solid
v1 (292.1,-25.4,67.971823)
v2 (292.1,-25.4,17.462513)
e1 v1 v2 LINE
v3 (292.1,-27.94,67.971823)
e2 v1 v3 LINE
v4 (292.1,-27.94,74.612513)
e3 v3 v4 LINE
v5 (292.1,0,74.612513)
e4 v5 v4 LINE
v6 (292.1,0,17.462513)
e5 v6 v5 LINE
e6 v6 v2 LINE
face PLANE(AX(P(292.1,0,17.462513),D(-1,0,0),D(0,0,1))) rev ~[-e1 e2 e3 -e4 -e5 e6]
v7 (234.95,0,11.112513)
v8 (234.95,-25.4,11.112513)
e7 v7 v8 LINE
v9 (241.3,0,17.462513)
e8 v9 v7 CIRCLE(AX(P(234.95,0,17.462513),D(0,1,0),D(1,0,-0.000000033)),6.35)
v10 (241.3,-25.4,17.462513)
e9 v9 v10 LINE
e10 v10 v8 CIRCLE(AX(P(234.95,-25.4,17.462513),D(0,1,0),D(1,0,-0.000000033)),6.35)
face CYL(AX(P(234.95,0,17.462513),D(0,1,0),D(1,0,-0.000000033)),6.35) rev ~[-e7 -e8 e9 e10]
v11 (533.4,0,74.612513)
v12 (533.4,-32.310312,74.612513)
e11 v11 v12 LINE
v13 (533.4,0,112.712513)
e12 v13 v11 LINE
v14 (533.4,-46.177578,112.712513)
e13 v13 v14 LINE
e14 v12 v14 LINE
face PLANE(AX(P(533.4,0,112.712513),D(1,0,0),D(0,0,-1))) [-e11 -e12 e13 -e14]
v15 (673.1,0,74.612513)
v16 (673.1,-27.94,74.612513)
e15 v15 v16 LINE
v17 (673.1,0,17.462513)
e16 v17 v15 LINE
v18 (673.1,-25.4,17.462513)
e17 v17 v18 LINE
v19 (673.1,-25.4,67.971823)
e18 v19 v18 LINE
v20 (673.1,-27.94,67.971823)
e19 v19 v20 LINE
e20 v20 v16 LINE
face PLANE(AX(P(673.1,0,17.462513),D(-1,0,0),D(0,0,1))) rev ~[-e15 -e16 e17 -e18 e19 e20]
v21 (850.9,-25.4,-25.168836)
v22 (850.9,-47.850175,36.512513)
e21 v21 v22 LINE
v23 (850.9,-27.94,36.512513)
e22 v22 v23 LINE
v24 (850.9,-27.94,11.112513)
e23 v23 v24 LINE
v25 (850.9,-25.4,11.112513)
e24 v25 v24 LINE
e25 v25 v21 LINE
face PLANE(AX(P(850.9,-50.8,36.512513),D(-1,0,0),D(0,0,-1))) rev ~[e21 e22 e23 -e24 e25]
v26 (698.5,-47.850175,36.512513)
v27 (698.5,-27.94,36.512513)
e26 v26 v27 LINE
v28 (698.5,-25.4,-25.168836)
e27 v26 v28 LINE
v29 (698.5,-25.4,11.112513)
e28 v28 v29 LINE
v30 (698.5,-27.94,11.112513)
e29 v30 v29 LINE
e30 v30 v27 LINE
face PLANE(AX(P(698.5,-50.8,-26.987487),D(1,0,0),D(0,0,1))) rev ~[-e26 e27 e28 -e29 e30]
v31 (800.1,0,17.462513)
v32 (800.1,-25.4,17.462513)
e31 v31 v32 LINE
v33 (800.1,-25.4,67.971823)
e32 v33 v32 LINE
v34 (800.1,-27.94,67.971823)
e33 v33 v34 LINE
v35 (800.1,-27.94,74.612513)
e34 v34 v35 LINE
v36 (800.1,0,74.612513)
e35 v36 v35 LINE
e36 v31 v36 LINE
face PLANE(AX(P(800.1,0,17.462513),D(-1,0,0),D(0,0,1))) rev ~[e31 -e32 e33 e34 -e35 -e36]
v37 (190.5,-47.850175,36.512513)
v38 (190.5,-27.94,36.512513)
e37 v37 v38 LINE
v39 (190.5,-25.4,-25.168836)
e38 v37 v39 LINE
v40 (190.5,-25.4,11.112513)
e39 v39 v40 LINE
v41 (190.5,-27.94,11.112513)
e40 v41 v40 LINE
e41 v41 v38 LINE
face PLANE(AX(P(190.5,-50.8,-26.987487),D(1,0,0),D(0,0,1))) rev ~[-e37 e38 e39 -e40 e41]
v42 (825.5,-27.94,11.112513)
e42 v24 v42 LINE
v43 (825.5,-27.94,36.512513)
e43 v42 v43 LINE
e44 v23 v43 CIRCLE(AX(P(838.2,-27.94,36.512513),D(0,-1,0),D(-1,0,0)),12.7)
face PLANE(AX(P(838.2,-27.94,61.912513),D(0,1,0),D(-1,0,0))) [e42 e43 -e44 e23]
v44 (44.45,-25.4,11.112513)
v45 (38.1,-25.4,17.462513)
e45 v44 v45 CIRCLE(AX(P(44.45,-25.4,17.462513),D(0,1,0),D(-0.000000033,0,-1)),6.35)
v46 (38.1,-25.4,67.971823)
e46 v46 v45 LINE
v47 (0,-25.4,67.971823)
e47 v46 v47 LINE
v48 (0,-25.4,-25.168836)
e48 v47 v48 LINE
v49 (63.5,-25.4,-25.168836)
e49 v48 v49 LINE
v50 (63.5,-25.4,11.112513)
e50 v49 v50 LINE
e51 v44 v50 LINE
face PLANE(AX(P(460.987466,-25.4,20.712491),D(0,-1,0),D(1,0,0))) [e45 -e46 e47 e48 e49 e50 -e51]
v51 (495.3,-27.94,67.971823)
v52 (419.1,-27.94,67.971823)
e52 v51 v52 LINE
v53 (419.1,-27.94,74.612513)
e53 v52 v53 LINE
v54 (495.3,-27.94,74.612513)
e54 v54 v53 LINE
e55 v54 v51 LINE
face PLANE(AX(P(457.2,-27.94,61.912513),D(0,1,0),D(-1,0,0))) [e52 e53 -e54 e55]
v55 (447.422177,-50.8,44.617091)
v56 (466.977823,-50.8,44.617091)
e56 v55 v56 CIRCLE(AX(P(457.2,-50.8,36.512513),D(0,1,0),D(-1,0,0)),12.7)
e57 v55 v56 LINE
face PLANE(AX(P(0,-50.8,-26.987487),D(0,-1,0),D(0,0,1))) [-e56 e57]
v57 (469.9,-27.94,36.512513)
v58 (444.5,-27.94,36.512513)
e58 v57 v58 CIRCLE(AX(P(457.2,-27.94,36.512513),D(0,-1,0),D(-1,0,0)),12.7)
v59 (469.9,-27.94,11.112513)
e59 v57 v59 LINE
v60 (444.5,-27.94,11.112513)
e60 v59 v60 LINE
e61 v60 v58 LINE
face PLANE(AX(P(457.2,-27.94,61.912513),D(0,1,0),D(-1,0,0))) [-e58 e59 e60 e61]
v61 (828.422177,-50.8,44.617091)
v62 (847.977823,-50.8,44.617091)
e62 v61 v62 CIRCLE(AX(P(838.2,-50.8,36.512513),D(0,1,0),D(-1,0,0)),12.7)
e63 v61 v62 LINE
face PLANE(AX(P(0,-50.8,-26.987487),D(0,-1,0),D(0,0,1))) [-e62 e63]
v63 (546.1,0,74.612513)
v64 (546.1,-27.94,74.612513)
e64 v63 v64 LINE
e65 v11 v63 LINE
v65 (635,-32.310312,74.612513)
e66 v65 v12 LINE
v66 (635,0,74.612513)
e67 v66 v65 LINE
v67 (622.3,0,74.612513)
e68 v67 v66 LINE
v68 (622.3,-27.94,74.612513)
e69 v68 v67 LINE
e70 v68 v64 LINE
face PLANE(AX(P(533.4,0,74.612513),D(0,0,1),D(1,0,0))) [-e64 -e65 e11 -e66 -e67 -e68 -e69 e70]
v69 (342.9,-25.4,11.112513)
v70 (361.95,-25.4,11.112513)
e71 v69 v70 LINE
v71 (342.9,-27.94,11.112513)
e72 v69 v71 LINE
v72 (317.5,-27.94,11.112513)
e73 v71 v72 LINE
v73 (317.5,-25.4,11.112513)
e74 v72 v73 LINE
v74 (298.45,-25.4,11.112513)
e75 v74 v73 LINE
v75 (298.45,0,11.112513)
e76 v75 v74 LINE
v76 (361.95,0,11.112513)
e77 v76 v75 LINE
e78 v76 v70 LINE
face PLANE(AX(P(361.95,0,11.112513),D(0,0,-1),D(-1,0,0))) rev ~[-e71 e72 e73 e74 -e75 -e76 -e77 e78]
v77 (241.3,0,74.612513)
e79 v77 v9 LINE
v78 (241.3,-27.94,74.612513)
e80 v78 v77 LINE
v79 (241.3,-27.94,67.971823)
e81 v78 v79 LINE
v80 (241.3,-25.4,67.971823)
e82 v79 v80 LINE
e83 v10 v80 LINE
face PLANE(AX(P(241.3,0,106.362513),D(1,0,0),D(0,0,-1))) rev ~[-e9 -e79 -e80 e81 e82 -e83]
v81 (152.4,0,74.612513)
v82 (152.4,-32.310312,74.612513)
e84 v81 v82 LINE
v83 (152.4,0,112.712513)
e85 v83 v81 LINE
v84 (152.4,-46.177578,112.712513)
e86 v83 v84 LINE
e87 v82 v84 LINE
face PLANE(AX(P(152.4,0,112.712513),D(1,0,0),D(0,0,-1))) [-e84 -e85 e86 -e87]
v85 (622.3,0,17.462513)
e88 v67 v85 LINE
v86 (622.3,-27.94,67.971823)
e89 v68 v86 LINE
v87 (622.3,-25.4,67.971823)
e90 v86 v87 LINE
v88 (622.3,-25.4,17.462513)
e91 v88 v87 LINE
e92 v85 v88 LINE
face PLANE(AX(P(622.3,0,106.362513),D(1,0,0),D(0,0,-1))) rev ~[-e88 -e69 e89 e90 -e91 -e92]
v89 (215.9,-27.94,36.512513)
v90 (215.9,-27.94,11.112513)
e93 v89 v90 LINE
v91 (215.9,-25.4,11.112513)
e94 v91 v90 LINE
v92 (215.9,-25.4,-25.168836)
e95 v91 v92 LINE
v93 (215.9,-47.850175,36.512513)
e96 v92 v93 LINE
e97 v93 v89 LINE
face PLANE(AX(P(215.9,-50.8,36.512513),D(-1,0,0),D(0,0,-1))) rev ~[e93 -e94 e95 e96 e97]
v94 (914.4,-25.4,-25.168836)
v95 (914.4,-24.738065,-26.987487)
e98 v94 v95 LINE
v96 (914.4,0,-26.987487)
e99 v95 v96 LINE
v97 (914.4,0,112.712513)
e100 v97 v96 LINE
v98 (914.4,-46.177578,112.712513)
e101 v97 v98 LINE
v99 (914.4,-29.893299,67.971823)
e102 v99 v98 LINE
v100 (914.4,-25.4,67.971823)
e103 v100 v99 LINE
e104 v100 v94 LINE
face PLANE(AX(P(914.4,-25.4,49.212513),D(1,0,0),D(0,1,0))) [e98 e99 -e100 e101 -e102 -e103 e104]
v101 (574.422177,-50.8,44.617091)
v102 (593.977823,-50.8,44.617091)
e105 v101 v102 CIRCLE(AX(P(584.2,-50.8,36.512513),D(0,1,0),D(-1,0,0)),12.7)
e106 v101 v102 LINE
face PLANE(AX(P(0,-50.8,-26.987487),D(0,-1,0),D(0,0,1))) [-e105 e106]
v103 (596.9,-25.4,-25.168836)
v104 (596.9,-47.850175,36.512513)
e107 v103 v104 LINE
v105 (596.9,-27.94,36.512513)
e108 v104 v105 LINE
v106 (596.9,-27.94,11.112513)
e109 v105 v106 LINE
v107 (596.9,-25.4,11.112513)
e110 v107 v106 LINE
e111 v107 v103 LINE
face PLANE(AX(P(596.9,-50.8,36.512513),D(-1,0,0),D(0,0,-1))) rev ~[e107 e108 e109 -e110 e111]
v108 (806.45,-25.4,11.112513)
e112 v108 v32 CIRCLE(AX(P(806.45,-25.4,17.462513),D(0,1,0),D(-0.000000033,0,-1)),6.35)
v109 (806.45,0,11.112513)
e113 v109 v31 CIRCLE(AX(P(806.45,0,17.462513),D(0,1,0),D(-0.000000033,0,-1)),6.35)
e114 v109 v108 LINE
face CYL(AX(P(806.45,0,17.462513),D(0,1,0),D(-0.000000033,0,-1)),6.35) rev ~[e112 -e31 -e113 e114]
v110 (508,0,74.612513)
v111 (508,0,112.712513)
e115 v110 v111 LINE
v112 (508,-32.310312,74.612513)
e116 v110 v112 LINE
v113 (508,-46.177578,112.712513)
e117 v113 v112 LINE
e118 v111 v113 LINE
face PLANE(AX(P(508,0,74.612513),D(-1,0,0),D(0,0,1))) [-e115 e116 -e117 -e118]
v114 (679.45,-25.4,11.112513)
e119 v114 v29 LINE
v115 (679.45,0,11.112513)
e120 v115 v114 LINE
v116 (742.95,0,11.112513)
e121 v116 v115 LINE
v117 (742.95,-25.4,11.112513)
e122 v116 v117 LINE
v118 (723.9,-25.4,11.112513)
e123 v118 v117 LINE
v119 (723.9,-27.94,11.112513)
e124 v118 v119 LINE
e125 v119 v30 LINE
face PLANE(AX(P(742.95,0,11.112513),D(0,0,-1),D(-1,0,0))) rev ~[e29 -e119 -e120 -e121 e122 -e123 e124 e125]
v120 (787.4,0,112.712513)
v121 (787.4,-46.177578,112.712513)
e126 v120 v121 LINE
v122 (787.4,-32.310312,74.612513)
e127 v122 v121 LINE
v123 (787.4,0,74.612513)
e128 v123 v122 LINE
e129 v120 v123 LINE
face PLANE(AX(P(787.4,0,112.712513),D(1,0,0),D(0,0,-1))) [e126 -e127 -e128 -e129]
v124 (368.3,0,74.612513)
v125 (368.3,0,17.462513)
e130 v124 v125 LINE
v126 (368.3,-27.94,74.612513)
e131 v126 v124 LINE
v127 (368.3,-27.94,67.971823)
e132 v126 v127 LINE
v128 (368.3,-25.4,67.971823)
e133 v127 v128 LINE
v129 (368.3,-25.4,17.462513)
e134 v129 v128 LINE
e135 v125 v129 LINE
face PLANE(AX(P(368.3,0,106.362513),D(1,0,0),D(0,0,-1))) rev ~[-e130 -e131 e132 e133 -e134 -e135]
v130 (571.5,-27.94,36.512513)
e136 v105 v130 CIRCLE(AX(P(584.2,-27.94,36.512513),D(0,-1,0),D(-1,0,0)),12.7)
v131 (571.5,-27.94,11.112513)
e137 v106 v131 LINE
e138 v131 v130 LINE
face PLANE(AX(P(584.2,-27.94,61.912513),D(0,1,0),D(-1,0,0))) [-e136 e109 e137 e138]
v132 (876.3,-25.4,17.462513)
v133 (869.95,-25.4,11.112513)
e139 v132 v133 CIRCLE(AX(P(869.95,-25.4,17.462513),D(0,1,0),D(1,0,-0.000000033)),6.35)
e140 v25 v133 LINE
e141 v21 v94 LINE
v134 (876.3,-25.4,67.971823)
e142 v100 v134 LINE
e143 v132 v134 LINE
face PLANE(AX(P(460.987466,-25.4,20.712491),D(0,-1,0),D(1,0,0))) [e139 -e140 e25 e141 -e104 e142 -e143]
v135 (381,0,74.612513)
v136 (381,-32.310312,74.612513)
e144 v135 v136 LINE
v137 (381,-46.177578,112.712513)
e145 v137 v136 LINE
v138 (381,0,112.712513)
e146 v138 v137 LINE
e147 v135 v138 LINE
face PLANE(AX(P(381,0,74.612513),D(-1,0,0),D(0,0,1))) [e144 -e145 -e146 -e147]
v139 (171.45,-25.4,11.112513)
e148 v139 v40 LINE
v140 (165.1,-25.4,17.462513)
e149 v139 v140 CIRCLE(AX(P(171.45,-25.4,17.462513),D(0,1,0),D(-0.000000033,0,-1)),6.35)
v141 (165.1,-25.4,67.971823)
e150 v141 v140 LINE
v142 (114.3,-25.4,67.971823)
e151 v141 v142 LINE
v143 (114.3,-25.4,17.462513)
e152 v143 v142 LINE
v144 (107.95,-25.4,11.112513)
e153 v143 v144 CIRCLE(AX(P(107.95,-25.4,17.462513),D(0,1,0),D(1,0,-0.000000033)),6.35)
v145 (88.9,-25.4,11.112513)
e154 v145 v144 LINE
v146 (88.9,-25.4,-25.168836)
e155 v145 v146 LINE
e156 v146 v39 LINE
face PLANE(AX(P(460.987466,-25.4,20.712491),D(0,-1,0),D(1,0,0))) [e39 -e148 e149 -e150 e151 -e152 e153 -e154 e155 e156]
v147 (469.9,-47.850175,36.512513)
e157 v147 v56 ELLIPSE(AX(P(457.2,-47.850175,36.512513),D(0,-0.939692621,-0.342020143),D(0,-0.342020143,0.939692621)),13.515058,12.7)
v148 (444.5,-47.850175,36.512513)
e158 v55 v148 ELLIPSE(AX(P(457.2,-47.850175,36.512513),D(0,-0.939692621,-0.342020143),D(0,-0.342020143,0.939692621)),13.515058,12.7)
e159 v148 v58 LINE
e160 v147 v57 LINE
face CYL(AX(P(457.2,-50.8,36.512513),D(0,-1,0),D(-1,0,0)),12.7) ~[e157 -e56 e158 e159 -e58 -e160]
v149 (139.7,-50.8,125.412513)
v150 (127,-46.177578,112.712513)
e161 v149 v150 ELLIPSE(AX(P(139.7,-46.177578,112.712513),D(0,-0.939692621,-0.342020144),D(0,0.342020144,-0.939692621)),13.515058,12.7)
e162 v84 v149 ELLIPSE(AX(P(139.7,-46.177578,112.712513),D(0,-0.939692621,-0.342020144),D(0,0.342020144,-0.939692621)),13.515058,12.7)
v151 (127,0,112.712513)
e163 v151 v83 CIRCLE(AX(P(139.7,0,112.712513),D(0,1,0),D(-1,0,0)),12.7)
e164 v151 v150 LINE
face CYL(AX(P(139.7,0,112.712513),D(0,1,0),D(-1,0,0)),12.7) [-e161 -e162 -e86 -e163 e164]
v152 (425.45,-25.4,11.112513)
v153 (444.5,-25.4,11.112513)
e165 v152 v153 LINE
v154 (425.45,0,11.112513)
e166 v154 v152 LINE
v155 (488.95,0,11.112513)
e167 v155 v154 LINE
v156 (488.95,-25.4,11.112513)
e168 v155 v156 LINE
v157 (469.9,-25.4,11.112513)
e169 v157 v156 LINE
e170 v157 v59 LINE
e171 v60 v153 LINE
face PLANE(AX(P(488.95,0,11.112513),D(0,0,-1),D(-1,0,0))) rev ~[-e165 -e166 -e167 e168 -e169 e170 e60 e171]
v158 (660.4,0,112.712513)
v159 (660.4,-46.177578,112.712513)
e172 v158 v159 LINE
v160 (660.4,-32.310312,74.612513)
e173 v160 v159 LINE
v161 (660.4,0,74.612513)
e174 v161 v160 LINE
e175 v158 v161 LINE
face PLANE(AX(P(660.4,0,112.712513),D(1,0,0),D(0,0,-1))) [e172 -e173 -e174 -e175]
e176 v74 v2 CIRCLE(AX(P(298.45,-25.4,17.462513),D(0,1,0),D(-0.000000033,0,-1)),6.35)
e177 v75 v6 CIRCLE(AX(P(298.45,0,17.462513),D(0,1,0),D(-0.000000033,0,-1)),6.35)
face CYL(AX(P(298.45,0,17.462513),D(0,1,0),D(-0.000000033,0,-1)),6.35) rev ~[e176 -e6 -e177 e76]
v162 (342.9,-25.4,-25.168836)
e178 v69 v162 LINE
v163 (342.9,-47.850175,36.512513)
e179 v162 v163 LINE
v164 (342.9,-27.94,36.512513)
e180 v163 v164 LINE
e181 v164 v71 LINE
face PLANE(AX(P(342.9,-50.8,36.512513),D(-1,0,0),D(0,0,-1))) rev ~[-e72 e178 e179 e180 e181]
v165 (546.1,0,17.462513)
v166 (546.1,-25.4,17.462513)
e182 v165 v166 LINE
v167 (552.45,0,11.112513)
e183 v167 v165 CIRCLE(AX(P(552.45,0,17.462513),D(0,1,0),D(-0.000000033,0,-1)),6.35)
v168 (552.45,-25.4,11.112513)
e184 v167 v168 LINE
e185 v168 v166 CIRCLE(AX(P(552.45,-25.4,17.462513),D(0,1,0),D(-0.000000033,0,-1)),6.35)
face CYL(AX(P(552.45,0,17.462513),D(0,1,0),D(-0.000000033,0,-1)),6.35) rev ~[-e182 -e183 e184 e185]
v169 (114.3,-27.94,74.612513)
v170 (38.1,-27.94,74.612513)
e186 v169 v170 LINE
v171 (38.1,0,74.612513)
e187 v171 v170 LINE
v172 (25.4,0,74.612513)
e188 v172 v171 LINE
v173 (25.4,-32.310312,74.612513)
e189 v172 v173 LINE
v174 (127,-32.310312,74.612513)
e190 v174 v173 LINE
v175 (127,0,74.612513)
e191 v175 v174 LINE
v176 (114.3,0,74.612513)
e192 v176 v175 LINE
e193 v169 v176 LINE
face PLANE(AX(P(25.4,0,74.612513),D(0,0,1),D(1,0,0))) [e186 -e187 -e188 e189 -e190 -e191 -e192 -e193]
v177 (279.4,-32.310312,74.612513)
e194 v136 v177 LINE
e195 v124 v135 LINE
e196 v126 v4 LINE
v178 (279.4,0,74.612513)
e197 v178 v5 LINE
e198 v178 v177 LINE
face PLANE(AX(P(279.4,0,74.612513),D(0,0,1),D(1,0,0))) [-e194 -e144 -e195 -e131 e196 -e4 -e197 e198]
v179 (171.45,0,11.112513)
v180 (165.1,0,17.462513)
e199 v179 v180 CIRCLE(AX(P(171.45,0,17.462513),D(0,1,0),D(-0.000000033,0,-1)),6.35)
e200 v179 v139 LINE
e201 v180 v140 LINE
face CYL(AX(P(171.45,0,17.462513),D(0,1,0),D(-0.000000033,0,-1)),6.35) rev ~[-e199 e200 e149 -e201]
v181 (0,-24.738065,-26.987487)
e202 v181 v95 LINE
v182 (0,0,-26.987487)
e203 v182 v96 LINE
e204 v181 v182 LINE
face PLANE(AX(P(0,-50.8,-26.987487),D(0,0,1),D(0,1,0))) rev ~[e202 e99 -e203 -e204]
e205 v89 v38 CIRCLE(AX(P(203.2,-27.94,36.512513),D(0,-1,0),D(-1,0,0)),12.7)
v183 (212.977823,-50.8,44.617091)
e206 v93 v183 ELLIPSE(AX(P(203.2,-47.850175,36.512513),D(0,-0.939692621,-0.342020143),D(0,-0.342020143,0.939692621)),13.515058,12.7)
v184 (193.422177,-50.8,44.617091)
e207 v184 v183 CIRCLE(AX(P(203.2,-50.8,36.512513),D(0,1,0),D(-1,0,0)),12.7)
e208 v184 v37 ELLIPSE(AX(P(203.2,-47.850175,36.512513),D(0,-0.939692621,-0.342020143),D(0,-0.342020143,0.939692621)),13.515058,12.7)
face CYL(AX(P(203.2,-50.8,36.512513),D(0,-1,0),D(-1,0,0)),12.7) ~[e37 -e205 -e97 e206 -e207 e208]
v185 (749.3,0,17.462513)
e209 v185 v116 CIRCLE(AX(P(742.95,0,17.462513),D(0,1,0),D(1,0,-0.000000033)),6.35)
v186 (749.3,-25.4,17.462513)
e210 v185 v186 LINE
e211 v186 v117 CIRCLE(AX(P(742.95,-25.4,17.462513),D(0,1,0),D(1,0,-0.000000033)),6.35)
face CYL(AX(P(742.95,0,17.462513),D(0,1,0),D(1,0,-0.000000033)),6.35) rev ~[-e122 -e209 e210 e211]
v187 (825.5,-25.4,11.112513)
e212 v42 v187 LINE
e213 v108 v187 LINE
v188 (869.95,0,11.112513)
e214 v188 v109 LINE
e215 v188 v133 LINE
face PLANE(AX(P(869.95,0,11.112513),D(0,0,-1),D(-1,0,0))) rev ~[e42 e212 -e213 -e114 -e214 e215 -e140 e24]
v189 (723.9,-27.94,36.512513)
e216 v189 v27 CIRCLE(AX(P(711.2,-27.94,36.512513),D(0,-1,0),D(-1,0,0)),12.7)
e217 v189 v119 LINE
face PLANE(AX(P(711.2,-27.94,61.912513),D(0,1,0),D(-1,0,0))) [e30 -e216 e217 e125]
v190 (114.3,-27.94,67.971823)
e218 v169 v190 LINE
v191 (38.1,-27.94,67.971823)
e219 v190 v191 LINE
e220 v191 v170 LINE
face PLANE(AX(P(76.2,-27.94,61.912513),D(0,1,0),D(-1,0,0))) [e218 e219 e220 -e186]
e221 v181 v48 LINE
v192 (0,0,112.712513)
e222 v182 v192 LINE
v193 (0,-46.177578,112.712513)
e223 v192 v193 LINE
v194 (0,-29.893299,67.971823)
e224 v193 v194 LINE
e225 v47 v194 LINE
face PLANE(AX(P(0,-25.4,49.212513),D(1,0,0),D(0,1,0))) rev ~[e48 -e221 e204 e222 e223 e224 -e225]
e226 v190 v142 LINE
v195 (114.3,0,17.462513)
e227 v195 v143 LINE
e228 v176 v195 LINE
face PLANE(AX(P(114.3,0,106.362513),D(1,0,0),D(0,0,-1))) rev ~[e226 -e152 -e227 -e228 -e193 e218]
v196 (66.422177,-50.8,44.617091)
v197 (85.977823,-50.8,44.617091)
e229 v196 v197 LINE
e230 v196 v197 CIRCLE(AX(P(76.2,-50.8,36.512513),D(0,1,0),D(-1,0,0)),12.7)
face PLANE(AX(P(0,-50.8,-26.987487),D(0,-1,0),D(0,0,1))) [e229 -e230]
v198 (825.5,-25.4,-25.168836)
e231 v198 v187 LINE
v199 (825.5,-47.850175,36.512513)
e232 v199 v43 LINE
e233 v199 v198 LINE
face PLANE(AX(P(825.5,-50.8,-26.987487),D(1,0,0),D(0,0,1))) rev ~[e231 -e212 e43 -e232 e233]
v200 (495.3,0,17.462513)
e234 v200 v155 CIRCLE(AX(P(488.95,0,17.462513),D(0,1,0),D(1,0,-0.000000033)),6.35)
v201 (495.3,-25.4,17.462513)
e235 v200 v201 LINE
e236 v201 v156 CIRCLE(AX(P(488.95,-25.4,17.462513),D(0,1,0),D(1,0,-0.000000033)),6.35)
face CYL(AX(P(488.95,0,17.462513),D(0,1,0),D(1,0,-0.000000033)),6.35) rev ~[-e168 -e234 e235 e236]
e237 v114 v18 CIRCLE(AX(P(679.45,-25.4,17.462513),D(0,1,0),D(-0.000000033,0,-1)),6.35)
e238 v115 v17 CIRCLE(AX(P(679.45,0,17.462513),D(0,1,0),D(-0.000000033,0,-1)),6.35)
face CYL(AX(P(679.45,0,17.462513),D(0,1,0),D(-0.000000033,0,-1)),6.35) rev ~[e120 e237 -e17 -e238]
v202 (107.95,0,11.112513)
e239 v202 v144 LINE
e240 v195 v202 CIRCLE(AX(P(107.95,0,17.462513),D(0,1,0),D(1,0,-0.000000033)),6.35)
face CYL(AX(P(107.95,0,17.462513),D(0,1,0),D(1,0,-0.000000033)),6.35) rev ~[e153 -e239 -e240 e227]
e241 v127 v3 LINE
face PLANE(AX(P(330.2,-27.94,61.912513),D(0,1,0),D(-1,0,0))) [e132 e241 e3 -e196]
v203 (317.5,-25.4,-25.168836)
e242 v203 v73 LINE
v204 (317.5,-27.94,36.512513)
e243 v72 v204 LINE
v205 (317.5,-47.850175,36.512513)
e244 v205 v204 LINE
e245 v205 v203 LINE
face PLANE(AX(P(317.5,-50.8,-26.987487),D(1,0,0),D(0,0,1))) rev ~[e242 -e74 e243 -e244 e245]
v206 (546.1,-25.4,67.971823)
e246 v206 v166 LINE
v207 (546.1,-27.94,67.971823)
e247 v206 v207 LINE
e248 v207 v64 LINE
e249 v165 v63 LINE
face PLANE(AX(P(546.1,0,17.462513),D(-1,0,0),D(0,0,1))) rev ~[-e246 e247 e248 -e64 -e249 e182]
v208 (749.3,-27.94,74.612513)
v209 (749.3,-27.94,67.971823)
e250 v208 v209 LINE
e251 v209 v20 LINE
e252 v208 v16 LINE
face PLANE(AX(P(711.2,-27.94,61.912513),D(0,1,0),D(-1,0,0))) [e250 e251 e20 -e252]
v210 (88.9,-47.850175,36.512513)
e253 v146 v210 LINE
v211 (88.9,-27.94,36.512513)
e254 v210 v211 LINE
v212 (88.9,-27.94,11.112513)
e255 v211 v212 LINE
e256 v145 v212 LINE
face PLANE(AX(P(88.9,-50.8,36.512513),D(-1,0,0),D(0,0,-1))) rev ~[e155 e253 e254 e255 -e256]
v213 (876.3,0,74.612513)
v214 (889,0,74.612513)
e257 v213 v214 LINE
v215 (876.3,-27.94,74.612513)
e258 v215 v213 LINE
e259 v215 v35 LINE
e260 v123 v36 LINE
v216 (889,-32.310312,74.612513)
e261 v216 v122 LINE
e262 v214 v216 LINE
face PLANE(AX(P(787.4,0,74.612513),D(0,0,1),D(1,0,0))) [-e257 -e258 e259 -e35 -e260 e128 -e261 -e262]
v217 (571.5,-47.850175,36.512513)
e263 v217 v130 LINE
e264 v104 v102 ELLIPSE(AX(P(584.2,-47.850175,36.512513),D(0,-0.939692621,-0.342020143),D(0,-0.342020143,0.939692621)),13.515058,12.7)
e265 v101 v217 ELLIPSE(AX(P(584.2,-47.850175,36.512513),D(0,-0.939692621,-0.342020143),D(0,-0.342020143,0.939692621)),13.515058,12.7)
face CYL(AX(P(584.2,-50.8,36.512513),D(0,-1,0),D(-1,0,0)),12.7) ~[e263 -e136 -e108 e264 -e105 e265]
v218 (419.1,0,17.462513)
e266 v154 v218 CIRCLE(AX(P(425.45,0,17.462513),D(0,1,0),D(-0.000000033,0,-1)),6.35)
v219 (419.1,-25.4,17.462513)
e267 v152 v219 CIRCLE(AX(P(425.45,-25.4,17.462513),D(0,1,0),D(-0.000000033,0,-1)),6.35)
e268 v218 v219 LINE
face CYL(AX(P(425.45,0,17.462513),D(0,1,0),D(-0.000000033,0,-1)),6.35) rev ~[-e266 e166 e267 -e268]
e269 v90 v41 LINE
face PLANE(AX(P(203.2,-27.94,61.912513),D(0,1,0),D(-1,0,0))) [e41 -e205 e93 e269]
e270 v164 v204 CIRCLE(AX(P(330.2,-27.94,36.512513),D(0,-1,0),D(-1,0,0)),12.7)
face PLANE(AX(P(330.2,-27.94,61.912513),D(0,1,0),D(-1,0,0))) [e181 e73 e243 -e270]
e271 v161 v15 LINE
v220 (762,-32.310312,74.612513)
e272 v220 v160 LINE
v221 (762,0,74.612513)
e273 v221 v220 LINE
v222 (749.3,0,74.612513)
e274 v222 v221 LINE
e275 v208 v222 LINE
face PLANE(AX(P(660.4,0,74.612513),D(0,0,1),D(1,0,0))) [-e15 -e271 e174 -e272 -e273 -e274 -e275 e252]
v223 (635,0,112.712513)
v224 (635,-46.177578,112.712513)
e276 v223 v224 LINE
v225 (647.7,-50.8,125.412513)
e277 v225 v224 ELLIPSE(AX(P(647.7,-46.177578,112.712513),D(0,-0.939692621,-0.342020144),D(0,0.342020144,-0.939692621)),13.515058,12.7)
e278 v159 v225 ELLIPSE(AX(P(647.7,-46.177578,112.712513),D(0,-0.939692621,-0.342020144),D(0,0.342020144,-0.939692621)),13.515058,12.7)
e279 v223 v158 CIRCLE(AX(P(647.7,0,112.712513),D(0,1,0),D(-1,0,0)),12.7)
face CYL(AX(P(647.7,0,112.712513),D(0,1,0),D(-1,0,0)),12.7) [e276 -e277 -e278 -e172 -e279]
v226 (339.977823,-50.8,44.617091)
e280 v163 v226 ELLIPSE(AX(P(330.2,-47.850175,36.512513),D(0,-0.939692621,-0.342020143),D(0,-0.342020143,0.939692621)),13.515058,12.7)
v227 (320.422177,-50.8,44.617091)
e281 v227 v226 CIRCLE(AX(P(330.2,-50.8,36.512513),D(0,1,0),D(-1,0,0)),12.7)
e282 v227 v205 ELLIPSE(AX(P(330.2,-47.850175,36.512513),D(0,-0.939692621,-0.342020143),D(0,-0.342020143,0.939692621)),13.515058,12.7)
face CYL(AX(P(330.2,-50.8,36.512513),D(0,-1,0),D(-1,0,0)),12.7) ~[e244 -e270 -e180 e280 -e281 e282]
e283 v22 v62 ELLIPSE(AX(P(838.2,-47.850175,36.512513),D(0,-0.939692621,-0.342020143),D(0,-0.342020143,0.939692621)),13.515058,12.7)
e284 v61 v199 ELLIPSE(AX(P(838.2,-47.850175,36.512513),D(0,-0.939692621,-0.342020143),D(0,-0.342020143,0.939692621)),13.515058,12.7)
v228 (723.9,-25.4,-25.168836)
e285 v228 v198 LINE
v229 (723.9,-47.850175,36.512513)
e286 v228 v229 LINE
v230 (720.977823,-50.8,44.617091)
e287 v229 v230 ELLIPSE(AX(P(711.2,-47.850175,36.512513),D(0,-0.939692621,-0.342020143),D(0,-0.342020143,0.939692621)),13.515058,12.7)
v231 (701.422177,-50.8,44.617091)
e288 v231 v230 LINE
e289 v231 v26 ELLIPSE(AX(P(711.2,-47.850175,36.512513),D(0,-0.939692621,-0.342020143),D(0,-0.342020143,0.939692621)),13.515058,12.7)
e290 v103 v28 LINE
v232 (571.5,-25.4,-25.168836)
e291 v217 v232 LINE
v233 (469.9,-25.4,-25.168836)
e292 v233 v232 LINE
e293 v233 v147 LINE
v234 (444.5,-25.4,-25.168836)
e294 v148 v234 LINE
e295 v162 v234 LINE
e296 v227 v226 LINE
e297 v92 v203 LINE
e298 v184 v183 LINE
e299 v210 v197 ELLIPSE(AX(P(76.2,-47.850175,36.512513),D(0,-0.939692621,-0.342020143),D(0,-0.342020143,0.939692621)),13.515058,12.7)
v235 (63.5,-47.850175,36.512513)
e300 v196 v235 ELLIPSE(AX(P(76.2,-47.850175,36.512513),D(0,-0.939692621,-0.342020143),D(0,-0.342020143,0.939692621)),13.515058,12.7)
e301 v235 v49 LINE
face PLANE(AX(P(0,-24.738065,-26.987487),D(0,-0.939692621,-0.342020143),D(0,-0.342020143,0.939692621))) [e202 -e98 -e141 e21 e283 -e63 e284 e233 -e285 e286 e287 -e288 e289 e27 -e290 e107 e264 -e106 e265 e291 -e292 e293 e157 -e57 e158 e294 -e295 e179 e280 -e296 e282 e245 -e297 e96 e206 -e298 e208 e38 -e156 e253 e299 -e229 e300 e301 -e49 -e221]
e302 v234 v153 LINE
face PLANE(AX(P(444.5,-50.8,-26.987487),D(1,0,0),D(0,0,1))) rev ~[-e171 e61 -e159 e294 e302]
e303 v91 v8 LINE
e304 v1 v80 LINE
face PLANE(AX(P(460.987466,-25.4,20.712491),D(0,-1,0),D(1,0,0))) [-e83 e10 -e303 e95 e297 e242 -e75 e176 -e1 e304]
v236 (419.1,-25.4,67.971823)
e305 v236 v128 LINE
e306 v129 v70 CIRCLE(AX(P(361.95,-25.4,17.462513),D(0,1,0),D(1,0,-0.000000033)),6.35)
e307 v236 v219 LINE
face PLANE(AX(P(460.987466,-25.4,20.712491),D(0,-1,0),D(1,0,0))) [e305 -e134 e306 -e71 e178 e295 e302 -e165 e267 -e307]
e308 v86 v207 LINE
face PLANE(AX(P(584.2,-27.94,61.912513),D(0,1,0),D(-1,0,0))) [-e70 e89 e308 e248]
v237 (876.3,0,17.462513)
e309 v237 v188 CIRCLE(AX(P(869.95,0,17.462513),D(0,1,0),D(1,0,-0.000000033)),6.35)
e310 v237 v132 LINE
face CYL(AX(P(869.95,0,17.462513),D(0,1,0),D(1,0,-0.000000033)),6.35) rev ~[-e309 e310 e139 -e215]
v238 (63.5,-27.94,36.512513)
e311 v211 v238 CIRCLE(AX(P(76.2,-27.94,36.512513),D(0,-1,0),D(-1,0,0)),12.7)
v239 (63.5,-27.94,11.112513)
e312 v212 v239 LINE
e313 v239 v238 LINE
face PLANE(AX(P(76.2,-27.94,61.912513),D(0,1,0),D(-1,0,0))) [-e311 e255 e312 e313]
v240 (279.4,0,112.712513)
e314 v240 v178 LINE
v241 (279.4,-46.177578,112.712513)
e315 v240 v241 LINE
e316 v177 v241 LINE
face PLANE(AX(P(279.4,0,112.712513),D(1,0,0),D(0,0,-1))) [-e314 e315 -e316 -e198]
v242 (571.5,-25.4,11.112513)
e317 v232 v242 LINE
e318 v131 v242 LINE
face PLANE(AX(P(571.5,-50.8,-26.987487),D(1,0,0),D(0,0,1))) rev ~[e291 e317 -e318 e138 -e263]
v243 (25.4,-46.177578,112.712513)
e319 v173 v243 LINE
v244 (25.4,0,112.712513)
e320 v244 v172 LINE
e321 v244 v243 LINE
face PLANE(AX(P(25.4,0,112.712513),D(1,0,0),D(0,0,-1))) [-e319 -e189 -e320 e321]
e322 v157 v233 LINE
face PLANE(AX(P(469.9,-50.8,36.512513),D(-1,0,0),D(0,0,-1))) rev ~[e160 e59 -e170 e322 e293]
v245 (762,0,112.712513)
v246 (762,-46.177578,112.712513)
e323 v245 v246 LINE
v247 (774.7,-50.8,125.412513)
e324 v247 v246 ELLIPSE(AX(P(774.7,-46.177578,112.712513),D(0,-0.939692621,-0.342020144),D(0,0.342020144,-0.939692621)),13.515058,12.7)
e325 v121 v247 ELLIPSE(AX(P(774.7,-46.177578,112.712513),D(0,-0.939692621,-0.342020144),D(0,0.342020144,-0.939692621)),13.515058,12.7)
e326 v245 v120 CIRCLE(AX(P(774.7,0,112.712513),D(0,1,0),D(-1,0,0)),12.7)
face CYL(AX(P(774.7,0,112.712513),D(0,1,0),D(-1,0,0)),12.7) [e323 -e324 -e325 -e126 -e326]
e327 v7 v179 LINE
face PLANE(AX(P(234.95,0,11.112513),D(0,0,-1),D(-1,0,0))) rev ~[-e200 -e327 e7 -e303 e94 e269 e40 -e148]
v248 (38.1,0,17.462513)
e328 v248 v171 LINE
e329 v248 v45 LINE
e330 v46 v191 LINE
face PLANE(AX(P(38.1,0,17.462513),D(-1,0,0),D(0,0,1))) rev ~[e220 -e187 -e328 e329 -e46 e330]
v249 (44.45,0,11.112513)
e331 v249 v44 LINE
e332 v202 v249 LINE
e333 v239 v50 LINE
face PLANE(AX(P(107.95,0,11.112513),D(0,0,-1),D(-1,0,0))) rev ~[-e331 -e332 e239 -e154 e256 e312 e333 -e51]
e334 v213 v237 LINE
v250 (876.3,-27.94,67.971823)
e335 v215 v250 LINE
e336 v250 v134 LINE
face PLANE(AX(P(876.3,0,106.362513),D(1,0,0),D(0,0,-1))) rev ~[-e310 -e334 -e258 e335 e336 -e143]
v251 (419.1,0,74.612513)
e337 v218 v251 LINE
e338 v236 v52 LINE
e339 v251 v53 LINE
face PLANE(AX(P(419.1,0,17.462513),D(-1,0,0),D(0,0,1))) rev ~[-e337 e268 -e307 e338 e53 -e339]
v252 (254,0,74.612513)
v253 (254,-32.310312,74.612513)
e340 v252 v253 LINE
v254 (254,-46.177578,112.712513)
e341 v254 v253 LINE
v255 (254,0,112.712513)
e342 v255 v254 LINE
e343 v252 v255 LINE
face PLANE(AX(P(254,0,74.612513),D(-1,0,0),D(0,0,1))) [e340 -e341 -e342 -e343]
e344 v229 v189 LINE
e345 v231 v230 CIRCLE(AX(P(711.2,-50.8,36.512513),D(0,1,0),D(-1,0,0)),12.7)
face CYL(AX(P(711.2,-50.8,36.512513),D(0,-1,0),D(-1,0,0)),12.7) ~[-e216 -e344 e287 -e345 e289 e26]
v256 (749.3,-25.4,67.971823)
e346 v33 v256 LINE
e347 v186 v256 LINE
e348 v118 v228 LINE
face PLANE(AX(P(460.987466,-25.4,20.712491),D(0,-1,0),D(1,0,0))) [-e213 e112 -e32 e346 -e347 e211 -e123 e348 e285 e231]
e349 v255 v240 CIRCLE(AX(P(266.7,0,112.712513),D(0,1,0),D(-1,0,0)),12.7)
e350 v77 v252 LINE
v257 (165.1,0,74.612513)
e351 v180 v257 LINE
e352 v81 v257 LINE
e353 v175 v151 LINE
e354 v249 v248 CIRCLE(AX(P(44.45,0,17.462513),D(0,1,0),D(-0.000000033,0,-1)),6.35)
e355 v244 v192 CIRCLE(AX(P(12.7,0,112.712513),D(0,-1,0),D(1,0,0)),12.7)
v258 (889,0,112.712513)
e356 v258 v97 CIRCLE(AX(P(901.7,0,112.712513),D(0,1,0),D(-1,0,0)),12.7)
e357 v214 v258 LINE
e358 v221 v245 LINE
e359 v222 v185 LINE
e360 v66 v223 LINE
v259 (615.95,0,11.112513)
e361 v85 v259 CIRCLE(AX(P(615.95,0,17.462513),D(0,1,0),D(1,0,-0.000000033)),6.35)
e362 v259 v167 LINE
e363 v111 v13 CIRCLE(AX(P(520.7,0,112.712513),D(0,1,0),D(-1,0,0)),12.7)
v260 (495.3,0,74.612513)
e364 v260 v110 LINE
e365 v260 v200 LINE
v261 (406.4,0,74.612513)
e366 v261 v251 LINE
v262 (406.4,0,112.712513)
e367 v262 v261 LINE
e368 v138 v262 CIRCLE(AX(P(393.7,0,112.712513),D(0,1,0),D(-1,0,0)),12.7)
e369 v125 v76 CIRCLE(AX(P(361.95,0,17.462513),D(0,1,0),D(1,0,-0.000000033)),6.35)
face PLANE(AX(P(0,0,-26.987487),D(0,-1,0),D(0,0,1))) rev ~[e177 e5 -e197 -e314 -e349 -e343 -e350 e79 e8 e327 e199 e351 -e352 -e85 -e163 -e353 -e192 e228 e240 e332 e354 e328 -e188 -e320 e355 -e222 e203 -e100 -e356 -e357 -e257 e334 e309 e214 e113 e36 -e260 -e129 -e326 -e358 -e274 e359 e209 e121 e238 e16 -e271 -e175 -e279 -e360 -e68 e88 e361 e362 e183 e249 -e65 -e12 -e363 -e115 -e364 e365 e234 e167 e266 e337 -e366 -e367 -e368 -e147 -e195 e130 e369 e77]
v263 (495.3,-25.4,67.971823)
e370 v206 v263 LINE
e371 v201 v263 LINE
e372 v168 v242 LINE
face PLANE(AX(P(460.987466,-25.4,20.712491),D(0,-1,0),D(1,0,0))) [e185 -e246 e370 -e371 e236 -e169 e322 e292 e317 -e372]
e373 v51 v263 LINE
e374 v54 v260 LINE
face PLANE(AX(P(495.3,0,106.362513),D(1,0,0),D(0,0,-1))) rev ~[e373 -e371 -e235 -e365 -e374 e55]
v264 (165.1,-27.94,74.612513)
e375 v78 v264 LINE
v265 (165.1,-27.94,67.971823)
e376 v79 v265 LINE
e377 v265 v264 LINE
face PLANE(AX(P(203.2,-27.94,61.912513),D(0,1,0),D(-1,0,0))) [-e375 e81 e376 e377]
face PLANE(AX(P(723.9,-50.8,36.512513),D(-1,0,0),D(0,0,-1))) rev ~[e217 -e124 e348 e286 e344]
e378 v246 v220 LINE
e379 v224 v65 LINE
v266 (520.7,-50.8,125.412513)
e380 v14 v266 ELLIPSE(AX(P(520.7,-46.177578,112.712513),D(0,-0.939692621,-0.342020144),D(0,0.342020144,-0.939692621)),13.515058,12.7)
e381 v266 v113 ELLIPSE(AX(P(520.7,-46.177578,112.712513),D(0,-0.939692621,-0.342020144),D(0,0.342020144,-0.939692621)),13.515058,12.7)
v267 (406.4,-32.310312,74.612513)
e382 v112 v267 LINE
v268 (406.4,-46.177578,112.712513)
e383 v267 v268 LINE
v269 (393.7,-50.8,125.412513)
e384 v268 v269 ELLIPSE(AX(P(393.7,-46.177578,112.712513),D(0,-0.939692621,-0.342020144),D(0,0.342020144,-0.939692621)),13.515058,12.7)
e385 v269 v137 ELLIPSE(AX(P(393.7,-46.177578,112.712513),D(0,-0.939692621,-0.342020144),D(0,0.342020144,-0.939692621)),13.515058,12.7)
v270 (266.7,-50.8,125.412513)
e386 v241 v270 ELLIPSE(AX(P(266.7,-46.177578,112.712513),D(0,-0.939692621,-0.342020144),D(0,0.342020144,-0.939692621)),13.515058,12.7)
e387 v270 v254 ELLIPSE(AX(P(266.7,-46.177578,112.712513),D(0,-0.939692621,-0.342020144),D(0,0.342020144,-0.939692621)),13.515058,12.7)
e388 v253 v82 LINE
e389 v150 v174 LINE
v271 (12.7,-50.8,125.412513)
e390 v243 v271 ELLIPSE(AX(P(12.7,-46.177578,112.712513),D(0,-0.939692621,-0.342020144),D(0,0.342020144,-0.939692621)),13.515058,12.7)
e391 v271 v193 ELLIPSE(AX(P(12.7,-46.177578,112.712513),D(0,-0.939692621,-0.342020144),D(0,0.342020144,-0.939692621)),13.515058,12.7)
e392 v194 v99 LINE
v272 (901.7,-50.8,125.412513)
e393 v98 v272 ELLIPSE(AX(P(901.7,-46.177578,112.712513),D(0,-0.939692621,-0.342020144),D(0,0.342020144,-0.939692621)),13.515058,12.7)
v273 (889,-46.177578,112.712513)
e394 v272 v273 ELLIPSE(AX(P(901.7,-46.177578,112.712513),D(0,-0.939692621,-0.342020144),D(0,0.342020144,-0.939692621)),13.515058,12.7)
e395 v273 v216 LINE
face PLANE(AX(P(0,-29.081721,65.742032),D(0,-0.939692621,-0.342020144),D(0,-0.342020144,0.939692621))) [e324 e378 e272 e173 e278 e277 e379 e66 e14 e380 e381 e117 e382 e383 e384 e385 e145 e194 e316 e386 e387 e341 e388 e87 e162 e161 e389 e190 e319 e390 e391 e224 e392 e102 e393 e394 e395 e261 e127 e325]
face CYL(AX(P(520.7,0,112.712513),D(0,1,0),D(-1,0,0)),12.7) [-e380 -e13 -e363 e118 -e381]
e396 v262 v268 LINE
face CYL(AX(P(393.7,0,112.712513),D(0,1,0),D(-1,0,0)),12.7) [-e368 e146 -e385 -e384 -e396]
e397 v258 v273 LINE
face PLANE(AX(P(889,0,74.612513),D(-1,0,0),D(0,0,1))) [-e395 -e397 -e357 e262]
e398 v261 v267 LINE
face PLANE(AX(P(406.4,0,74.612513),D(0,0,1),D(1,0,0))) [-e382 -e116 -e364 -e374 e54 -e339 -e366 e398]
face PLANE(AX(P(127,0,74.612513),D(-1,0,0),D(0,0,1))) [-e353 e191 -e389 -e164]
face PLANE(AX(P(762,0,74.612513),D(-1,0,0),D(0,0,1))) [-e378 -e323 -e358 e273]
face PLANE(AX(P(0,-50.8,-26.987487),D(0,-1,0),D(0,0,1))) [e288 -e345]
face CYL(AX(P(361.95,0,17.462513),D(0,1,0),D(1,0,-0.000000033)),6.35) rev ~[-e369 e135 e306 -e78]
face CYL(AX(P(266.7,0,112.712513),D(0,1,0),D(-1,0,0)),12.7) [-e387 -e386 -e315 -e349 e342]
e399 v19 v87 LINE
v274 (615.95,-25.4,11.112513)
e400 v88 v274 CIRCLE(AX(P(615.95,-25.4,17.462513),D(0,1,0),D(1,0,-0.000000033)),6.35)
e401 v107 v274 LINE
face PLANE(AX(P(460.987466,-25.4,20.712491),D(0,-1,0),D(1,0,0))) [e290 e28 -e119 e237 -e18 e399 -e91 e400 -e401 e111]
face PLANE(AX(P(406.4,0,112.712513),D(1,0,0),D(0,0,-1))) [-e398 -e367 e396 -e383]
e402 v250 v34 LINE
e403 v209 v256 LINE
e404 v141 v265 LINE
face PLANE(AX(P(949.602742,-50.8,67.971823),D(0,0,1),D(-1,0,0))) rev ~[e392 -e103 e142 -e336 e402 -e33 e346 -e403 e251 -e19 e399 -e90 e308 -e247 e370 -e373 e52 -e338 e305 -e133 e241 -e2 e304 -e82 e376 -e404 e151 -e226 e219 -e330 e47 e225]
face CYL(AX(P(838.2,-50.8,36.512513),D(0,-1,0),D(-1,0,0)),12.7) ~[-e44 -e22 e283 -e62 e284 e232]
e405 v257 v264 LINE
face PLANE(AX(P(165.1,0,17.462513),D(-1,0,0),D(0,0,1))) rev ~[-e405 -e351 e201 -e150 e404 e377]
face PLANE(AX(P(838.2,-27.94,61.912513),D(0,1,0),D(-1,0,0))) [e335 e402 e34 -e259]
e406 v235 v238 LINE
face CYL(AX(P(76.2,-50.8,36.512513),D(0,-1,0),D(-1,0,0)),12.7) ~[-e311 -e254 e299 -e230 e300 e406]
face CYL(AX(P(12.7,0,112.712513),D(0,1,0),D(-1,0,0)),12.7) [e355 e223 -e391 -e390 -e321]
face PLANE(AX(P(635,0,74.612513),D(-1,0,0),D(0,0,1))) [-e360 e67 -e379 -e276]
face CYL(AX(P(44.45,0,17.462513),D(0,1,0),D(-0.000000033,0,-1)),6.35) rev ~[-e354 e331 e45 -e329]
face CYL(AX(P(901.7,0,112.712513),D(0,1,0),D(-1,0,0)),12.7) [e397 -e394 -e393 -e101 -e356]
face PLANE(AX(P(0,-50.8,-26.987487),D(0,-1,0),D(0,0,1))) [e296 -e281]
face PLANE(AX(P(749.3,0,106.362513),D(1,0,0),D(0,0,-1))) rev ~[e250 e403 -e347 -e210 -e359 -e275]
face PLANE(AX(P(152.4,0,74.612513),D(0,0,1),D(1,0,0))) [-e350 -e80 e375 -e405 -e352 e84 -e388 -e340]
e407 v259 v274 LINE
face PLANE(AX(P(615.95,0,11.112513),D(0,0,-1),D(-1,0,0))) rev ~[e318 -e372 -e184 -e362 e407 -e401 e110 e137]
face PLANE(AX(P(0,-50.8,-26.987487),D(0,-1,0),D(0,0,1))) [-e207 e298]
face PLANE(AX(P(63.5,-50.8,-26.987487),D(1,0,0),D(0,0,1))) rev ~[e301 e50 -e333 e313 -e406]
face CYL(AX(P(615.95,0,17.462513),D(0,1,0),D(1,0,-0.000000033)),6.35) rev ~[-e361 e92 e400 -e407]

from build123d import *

# Parameters (mm, degrees)
F0_W      = 50.8
F0_H      = 152.4
F1_DEPTH  = 914.4
F3_DEPTH  = 25.4
F5_DEPTH  = 914.401
F7_DEPTH  = 914.401
F9_DEPTH  = 50.801
F11_DEPTH = 27.94


with BuildPart() as f1:
    # F0 (on Right) → F1 (new body)
    with BuildSketch(Plane.YZ):
        with Locations((-25.4, 49.212513)):
            Rectangle(F0_W, F0_H)
    extrude(amount=F1_DEPTH)

    # F2 (on face) → F3 (cut)
    with BuildSketch(Plane.XZ.offset(50.8)):
        with BuildLine():
            Line((-24.162216, -26.987487), (63.5, -26.987487))
            Line((63.5, -26.987487), (63.5, 36.512513))
            ThreePointArc((63.5, 36.512513), (76.2, 49.212513), (88.9, 36.512513))
            Line((88.9, 36.512513), (88.9, -26.987487))
            Line((88.9, -26.987487), (190.5, -26.987487))
            Line((190.5, -26.987487), (190.5, 36.512513))
            ThreePointArc((190.5, 36.512513), (203.2, 49.212513), (215.9, 36.512513))
            Line((215.9, 36.512513), (215.9, -26.987487))
            Line((215.9, -26.987487), (317.5, -26.987487))
            Line((317.5, -26.987487), (317.5, 36.512513))
            ThreePointArc((317.5, 36.512513), (330.2, 49.212513), (342.9, 36.512513))
            Line((342.9, 36.512513), (342.9, -26.987487))
            Line((342.9, -26.987487), (444.5, -26.987487))
            Line((444.5, -26.987487), (444.5, 36.512513))
            ThreePointArc((444.5, 36.512513), (457.2, 49.212513), (469.9, 36.512513))
            Line((469.9, 36.512513), (469.9, -26.987487))
            Line((469.9, -26.987487), (571.5, -26.987487))
            Line((571.5, -26.987487), (571.5, 36.512513))
            ThreePointArc((571.5, 36.512513), (584.2, 49.212513), (596.9, 36.512513))
            Line((596.9, 36.512513), (596.9, -26.987487))
            Line((596.9, -26.987487), (698.5, -26.987487))
            Line((698.5, -26.987487), (698.5, 36.512513))
            ThreePointArc((698.5, 36.512513), (711.2, 49.212513), (723.9, 36.512513))
            Line((723.9, 36.512513), (723.9, -26.987487))
            Line((723.9, -26.987487), (825.5, -26.987487))
            Line((825.5, -26.987487), (825.5, 36.512513))
            ThreePointArc((825.5, 36.512513), (838.2, 49.212513), (850.9, 36.512513))
            Line((850.9, 36.512513), (850.9, -26.987487))
            Line((850.9, -26.987487), (949.602742, -26.987487))
            Line((949.602742, -26.987487), (949.602742, 67.971823))
            Line((949.602742, 67.971823), (-24.162216, 67.971823))
            Line((-24.162216, 67.971823), (-24.162216, -26.987487))
        make_face()
    extrude(amount=-F3_DEPTH, mode=Mode.SUBTRACT)

    # F4 (on Right) → F5 (cut, through all)
    with BuildSketch(Plane.YZ):
        Polygon((-50.8, -26.987487), (-24.738065, -26.987487), (-50.8, 44.617091), align=None)
    extrude(amount=F5_DEPTH, mode=Mode.SUBTRACT)

    # F6 (on Right) → F7 (cut, through all)
    with BuildSketch(Plane.YZ):
        Polygon((-50.8, 65.742032), (-29.081721, 65.742032), (-50.8, 125.412513), align=None)
    extrude(amount=F7_DEPTH, mode=Mode.SUBTRACT)

    # F8 (on Front) → F9 (cut, through all)
    with BuildSketch(Plane.XZ):
        with BuildLine():
            Line((-17.833117, 74.612513), (0, 74.612513))
            Line((0, 74.612513), (0, 112.712513))
            ThreePointArc((0, 112.712513), (12.7, 125.412513), (25.4, 112.712513))
            Line((25.4, 112.712513), (25.4, 74.612513))
            Line((25.4, 74.612513), (127, 74.612513))
            Line((127, 74.612513), (127, 112.712513))
            ThreePointArc((127, 112.712513), (139.7, 125.412513), (152.4, 112.712513))
            Line((152.4, 112.712513), (152.4, 74.612513))
            Line((152.4, 74.612513), (254, 74.612513))
            Line((254, 74.612513), (254, 112.712513))
            ThreePointArc((254, 112.712513), (266.7, 125.412513), (279.4, 112.712513))
            Line((279.4, 112.712513), (279.4, 74.612513))
            Line((279.4, 74.612513), (381, 74.612513))
            Line((381, 74.612513), (381, 112.712513))
            ThreePointArc((381, 112.712513), (393.7, 125.412513), (406.4, 112.712513))
            Line((406.4, 112.712513), (406.4, 74.612513))
            Line((406.4, 74.612513), (508, 74.612513))
            Line((508, 74.612513), (508, 112.712513))
            ThreePointArc((508, 112.712513), (520.7, 125.412513), (533.4, 112.712513))
            Line((533.4, 112.712513), (533.4, 74.612513))
            Line((533.4, 74.612513), (635, 74.612513))
            Line((635, 74.612513), (635, 112.712513))
            ThreePointArc((635, 112.712513), (647.7, 125.412513), (660.4, 112.712513))
            Line((660.4, 112.712513), (660.4, 74.612513))
            Line((660.4, 74.612513), (762, 74.612513))
            Line((762, 74.612513), (762, 112.712513))
            ThreePointArc((762, 112.712513), (774.7, 125.412513), (787.4, 112.712513))
            Line((787.4, 112.712513), (787.4, 74.612513))
            Line((787.4, 74.612513), (889, 74.612513))
            Line((889, 74.612513), (889, 112.712513))
            ThreePointArc((889, 112.712513), (901.7, 125.412513), (914.4, 112.712513))
            Line((914.4, 112.712513), (914.4, 74.612513))
            Line((914.4, 74.612513), (957.003824, 74.612513))
            Line((957.003824, 74.612513), (957.003824, 229.980152))
            Line((957.003824, 229.980152), (-17.833117, 229.980152))
            Line((-17.833117, 229.980152), (-17.833117, 74.612513))
        make_face()
    extrude(amount=F9_DEPTH, mode=Mode.SUBTRACT)

    # F10 (on face) → F11 (cut)
    with BuildSketch(Plane(origin=(0, 0, 0), x_dir=(-1, 0, 0), z_dir=(0, 1, 0))):
        with BuildLine():
            Line((-806.45, 112.712513), (-869.95, 112.712513))
            ThreePointArc((-869.95, 112.712513), (-874.440128, 110.852641), (-876.3, 106.362513))
            Line((-876.3, 106.362513), (-876.3, 17.462513))
            ThreePointArc((-876.3, 17.462513), (-874.440128, 12.972385), (-869.95, 11.112513))
            Line((-869.95, 11.112513), (-806.45, 11.112513))
            ThreePointArc((-806.45, 11.112513), (-801.959872, 12.972385), (-800.1, 17.462513))
            Line((-800.1, 17.462513), (-800.1, 106.362513))
            ThreePointArc((-800.1, 106.362513), (-801.959872, 110.852641), (-806.45, 112.712513))
        make_face()
        with BuildLine():
            Line((-679.45, 112.712513), (-742.95, 112.712513))
            ThreePointArc((-742.95, 112.712513), (-747.440128, 110.852641), (-749.3, 106.362513))
            Line((-749.3, 106.362513), (-749.3, 17.462513))
            ThreePointArc((-749.3, 17.462513), (-747.440128, 12.972385), (-742.95, 11.112513))
            Line((-742.95, 11.112513), (-679.45, 11.112513))
            ThreePointArc((-679.45, 11.112513), (-674.959872, 12.972385), (-673.1, 17.462513))
            Line((-673.1, 17.462513), (-673.1, 106.362513))
            ThreePointArc((-673.1, 106.362513), (-674.959872, 110.852641), (-679.45, 112.712513))
        make_face()
        with BuildLine():
            Line((-552.45, 112.712513), (-615.95, 112.712513))
            ThreePointArc((-615.95, 112.712513), (-620.440128, 110.852641), (-622.3, 106.362513))
            Line((-622.3, 106.362513), (-622.3, 17.462513))
            ThreePointArc((-622.3, 17.462513), (-620.440128, 12.972385), (-615.95, 11.112513))
            Line((-615.95, 11.112513), (-552.45, 11.112513))
            ThreePointArc((-552.45, 11.112513), (-547.959872, 12.972385), (-546.1, 17.462513))
            Line((-546.1, 17.462513), (-546.1, 106.362513))
            ThreePointArc((-546.1, 106.362513), (-547.959872, 110.852641), (-552.45, 112.712513))
        make_face()
        with BuildLine():
            Line((-425.45, 112.712513), (-488.95, 112.712513))
            ThreePointArc((-488.95, 112.712513), (-493.440128, 110.852641), (-495.3, 106.362513))
            Line((-495.3, 106.362513), (-495.3, 17.462513))
            ThreePointArc((-495.3, 17.462513), (-493.440128, 12.972385), (-488.95, 11.112513))
            Line((-488.95, 11.112513), (-425.45, 11.112513))
            ThreePointArc((-425.45, 11.112513), (-420.959872, 12.972385), (-419.1, 17.462513))
            Line((-419.1, 17.462513), (-419.1, 106.362513))
            ThreePointArc((-419.1, 106.362513), (-420.959872, 110.852641), (-425.45, 112.712513))
        make_face()
        with BuildLine():
            Line((-298.45, 112.712513), (-361.95, 112.712513))
            ThreePointArc((-361.95, 112.712513), (-366.440128, 110.852641), (-368.3, 106.362513))
            Line((-368.3, 106.362513), (-368.3, 17.462513))
            ThreePointArc((-368.3, 17.462513), (-366.440128, 12.972385), (-361.95, 11.112513))
            Line((-361.95, 11.112513), (-298.45, 11.112513))
            ThreePointArc((-298.45, 11.112513), (-293.959872, 12.972385), (-292.1, 17.462513))
            Line((-292.1, 17.462513), (-292.1, 106.362513))
            ThreePointArc((-292.1, 106.362513), (-293.959872, 110.852641), (-298.45, 112.712513))
        make_face()
        with BuildLine():
            Line((-171.45, 112.712513), (-234.95, 112.712513))
            ThreePointArc((-234.95, 112.712513), (-239.440128, 110.852641), (-241.3, 106.362513))
            Line((-241.3, 106.362513), (-241.3, 17.462513))
            ThreePointArc((-241.3, 17.462513), (-239.440128, 12.972385), (-234.95, 11.112513))
            Line((-234.95, 11.112513), (-171.45, 11.112513))
            ThreePointArc((-171.45, 11.112513), (-166.959872, 12.972385), (-165.1, 17.462513))
            Line((-165.1, 17.462513), (-165.1, 106.362513))
            ThreePointArc((-165.1, 106.362513), (-166.959872, 110.852641), (-171.45, 112.712513))
        make_face()
        with BuildLine():
            Line((-44.45, 112.712513), (-107.95, 112.712513))
            ThreePointArc((-107.95, 112.712513), (-112.440128, 110.852641), (-114.3, 106.362513))
            Line((-114.3, 106.362513), (-114.3, 17.462513))
            ThreePointArc((-114.3, 17.462513), (-112.440128, 12.972385), (-107.95, 11.112513))
            Line((-107.95, 11.112513), (-44.45, 11.112513))
            ThreePointArc((-44.45, 11.112513), (-39.959872, 12.972385), (-38.1, 17.462513))
            Line((-38.1, 17.462513), (-38.1, 106.362513))
            ThreePointArc((-38.1, 106.362513), (-39.959872, 110.852641), (-44.45, 112.712513))
        make_face()
    extrude(amount=-F11_DEPTH, mode=Mode.SUBTRACT)


solid = f1.part
